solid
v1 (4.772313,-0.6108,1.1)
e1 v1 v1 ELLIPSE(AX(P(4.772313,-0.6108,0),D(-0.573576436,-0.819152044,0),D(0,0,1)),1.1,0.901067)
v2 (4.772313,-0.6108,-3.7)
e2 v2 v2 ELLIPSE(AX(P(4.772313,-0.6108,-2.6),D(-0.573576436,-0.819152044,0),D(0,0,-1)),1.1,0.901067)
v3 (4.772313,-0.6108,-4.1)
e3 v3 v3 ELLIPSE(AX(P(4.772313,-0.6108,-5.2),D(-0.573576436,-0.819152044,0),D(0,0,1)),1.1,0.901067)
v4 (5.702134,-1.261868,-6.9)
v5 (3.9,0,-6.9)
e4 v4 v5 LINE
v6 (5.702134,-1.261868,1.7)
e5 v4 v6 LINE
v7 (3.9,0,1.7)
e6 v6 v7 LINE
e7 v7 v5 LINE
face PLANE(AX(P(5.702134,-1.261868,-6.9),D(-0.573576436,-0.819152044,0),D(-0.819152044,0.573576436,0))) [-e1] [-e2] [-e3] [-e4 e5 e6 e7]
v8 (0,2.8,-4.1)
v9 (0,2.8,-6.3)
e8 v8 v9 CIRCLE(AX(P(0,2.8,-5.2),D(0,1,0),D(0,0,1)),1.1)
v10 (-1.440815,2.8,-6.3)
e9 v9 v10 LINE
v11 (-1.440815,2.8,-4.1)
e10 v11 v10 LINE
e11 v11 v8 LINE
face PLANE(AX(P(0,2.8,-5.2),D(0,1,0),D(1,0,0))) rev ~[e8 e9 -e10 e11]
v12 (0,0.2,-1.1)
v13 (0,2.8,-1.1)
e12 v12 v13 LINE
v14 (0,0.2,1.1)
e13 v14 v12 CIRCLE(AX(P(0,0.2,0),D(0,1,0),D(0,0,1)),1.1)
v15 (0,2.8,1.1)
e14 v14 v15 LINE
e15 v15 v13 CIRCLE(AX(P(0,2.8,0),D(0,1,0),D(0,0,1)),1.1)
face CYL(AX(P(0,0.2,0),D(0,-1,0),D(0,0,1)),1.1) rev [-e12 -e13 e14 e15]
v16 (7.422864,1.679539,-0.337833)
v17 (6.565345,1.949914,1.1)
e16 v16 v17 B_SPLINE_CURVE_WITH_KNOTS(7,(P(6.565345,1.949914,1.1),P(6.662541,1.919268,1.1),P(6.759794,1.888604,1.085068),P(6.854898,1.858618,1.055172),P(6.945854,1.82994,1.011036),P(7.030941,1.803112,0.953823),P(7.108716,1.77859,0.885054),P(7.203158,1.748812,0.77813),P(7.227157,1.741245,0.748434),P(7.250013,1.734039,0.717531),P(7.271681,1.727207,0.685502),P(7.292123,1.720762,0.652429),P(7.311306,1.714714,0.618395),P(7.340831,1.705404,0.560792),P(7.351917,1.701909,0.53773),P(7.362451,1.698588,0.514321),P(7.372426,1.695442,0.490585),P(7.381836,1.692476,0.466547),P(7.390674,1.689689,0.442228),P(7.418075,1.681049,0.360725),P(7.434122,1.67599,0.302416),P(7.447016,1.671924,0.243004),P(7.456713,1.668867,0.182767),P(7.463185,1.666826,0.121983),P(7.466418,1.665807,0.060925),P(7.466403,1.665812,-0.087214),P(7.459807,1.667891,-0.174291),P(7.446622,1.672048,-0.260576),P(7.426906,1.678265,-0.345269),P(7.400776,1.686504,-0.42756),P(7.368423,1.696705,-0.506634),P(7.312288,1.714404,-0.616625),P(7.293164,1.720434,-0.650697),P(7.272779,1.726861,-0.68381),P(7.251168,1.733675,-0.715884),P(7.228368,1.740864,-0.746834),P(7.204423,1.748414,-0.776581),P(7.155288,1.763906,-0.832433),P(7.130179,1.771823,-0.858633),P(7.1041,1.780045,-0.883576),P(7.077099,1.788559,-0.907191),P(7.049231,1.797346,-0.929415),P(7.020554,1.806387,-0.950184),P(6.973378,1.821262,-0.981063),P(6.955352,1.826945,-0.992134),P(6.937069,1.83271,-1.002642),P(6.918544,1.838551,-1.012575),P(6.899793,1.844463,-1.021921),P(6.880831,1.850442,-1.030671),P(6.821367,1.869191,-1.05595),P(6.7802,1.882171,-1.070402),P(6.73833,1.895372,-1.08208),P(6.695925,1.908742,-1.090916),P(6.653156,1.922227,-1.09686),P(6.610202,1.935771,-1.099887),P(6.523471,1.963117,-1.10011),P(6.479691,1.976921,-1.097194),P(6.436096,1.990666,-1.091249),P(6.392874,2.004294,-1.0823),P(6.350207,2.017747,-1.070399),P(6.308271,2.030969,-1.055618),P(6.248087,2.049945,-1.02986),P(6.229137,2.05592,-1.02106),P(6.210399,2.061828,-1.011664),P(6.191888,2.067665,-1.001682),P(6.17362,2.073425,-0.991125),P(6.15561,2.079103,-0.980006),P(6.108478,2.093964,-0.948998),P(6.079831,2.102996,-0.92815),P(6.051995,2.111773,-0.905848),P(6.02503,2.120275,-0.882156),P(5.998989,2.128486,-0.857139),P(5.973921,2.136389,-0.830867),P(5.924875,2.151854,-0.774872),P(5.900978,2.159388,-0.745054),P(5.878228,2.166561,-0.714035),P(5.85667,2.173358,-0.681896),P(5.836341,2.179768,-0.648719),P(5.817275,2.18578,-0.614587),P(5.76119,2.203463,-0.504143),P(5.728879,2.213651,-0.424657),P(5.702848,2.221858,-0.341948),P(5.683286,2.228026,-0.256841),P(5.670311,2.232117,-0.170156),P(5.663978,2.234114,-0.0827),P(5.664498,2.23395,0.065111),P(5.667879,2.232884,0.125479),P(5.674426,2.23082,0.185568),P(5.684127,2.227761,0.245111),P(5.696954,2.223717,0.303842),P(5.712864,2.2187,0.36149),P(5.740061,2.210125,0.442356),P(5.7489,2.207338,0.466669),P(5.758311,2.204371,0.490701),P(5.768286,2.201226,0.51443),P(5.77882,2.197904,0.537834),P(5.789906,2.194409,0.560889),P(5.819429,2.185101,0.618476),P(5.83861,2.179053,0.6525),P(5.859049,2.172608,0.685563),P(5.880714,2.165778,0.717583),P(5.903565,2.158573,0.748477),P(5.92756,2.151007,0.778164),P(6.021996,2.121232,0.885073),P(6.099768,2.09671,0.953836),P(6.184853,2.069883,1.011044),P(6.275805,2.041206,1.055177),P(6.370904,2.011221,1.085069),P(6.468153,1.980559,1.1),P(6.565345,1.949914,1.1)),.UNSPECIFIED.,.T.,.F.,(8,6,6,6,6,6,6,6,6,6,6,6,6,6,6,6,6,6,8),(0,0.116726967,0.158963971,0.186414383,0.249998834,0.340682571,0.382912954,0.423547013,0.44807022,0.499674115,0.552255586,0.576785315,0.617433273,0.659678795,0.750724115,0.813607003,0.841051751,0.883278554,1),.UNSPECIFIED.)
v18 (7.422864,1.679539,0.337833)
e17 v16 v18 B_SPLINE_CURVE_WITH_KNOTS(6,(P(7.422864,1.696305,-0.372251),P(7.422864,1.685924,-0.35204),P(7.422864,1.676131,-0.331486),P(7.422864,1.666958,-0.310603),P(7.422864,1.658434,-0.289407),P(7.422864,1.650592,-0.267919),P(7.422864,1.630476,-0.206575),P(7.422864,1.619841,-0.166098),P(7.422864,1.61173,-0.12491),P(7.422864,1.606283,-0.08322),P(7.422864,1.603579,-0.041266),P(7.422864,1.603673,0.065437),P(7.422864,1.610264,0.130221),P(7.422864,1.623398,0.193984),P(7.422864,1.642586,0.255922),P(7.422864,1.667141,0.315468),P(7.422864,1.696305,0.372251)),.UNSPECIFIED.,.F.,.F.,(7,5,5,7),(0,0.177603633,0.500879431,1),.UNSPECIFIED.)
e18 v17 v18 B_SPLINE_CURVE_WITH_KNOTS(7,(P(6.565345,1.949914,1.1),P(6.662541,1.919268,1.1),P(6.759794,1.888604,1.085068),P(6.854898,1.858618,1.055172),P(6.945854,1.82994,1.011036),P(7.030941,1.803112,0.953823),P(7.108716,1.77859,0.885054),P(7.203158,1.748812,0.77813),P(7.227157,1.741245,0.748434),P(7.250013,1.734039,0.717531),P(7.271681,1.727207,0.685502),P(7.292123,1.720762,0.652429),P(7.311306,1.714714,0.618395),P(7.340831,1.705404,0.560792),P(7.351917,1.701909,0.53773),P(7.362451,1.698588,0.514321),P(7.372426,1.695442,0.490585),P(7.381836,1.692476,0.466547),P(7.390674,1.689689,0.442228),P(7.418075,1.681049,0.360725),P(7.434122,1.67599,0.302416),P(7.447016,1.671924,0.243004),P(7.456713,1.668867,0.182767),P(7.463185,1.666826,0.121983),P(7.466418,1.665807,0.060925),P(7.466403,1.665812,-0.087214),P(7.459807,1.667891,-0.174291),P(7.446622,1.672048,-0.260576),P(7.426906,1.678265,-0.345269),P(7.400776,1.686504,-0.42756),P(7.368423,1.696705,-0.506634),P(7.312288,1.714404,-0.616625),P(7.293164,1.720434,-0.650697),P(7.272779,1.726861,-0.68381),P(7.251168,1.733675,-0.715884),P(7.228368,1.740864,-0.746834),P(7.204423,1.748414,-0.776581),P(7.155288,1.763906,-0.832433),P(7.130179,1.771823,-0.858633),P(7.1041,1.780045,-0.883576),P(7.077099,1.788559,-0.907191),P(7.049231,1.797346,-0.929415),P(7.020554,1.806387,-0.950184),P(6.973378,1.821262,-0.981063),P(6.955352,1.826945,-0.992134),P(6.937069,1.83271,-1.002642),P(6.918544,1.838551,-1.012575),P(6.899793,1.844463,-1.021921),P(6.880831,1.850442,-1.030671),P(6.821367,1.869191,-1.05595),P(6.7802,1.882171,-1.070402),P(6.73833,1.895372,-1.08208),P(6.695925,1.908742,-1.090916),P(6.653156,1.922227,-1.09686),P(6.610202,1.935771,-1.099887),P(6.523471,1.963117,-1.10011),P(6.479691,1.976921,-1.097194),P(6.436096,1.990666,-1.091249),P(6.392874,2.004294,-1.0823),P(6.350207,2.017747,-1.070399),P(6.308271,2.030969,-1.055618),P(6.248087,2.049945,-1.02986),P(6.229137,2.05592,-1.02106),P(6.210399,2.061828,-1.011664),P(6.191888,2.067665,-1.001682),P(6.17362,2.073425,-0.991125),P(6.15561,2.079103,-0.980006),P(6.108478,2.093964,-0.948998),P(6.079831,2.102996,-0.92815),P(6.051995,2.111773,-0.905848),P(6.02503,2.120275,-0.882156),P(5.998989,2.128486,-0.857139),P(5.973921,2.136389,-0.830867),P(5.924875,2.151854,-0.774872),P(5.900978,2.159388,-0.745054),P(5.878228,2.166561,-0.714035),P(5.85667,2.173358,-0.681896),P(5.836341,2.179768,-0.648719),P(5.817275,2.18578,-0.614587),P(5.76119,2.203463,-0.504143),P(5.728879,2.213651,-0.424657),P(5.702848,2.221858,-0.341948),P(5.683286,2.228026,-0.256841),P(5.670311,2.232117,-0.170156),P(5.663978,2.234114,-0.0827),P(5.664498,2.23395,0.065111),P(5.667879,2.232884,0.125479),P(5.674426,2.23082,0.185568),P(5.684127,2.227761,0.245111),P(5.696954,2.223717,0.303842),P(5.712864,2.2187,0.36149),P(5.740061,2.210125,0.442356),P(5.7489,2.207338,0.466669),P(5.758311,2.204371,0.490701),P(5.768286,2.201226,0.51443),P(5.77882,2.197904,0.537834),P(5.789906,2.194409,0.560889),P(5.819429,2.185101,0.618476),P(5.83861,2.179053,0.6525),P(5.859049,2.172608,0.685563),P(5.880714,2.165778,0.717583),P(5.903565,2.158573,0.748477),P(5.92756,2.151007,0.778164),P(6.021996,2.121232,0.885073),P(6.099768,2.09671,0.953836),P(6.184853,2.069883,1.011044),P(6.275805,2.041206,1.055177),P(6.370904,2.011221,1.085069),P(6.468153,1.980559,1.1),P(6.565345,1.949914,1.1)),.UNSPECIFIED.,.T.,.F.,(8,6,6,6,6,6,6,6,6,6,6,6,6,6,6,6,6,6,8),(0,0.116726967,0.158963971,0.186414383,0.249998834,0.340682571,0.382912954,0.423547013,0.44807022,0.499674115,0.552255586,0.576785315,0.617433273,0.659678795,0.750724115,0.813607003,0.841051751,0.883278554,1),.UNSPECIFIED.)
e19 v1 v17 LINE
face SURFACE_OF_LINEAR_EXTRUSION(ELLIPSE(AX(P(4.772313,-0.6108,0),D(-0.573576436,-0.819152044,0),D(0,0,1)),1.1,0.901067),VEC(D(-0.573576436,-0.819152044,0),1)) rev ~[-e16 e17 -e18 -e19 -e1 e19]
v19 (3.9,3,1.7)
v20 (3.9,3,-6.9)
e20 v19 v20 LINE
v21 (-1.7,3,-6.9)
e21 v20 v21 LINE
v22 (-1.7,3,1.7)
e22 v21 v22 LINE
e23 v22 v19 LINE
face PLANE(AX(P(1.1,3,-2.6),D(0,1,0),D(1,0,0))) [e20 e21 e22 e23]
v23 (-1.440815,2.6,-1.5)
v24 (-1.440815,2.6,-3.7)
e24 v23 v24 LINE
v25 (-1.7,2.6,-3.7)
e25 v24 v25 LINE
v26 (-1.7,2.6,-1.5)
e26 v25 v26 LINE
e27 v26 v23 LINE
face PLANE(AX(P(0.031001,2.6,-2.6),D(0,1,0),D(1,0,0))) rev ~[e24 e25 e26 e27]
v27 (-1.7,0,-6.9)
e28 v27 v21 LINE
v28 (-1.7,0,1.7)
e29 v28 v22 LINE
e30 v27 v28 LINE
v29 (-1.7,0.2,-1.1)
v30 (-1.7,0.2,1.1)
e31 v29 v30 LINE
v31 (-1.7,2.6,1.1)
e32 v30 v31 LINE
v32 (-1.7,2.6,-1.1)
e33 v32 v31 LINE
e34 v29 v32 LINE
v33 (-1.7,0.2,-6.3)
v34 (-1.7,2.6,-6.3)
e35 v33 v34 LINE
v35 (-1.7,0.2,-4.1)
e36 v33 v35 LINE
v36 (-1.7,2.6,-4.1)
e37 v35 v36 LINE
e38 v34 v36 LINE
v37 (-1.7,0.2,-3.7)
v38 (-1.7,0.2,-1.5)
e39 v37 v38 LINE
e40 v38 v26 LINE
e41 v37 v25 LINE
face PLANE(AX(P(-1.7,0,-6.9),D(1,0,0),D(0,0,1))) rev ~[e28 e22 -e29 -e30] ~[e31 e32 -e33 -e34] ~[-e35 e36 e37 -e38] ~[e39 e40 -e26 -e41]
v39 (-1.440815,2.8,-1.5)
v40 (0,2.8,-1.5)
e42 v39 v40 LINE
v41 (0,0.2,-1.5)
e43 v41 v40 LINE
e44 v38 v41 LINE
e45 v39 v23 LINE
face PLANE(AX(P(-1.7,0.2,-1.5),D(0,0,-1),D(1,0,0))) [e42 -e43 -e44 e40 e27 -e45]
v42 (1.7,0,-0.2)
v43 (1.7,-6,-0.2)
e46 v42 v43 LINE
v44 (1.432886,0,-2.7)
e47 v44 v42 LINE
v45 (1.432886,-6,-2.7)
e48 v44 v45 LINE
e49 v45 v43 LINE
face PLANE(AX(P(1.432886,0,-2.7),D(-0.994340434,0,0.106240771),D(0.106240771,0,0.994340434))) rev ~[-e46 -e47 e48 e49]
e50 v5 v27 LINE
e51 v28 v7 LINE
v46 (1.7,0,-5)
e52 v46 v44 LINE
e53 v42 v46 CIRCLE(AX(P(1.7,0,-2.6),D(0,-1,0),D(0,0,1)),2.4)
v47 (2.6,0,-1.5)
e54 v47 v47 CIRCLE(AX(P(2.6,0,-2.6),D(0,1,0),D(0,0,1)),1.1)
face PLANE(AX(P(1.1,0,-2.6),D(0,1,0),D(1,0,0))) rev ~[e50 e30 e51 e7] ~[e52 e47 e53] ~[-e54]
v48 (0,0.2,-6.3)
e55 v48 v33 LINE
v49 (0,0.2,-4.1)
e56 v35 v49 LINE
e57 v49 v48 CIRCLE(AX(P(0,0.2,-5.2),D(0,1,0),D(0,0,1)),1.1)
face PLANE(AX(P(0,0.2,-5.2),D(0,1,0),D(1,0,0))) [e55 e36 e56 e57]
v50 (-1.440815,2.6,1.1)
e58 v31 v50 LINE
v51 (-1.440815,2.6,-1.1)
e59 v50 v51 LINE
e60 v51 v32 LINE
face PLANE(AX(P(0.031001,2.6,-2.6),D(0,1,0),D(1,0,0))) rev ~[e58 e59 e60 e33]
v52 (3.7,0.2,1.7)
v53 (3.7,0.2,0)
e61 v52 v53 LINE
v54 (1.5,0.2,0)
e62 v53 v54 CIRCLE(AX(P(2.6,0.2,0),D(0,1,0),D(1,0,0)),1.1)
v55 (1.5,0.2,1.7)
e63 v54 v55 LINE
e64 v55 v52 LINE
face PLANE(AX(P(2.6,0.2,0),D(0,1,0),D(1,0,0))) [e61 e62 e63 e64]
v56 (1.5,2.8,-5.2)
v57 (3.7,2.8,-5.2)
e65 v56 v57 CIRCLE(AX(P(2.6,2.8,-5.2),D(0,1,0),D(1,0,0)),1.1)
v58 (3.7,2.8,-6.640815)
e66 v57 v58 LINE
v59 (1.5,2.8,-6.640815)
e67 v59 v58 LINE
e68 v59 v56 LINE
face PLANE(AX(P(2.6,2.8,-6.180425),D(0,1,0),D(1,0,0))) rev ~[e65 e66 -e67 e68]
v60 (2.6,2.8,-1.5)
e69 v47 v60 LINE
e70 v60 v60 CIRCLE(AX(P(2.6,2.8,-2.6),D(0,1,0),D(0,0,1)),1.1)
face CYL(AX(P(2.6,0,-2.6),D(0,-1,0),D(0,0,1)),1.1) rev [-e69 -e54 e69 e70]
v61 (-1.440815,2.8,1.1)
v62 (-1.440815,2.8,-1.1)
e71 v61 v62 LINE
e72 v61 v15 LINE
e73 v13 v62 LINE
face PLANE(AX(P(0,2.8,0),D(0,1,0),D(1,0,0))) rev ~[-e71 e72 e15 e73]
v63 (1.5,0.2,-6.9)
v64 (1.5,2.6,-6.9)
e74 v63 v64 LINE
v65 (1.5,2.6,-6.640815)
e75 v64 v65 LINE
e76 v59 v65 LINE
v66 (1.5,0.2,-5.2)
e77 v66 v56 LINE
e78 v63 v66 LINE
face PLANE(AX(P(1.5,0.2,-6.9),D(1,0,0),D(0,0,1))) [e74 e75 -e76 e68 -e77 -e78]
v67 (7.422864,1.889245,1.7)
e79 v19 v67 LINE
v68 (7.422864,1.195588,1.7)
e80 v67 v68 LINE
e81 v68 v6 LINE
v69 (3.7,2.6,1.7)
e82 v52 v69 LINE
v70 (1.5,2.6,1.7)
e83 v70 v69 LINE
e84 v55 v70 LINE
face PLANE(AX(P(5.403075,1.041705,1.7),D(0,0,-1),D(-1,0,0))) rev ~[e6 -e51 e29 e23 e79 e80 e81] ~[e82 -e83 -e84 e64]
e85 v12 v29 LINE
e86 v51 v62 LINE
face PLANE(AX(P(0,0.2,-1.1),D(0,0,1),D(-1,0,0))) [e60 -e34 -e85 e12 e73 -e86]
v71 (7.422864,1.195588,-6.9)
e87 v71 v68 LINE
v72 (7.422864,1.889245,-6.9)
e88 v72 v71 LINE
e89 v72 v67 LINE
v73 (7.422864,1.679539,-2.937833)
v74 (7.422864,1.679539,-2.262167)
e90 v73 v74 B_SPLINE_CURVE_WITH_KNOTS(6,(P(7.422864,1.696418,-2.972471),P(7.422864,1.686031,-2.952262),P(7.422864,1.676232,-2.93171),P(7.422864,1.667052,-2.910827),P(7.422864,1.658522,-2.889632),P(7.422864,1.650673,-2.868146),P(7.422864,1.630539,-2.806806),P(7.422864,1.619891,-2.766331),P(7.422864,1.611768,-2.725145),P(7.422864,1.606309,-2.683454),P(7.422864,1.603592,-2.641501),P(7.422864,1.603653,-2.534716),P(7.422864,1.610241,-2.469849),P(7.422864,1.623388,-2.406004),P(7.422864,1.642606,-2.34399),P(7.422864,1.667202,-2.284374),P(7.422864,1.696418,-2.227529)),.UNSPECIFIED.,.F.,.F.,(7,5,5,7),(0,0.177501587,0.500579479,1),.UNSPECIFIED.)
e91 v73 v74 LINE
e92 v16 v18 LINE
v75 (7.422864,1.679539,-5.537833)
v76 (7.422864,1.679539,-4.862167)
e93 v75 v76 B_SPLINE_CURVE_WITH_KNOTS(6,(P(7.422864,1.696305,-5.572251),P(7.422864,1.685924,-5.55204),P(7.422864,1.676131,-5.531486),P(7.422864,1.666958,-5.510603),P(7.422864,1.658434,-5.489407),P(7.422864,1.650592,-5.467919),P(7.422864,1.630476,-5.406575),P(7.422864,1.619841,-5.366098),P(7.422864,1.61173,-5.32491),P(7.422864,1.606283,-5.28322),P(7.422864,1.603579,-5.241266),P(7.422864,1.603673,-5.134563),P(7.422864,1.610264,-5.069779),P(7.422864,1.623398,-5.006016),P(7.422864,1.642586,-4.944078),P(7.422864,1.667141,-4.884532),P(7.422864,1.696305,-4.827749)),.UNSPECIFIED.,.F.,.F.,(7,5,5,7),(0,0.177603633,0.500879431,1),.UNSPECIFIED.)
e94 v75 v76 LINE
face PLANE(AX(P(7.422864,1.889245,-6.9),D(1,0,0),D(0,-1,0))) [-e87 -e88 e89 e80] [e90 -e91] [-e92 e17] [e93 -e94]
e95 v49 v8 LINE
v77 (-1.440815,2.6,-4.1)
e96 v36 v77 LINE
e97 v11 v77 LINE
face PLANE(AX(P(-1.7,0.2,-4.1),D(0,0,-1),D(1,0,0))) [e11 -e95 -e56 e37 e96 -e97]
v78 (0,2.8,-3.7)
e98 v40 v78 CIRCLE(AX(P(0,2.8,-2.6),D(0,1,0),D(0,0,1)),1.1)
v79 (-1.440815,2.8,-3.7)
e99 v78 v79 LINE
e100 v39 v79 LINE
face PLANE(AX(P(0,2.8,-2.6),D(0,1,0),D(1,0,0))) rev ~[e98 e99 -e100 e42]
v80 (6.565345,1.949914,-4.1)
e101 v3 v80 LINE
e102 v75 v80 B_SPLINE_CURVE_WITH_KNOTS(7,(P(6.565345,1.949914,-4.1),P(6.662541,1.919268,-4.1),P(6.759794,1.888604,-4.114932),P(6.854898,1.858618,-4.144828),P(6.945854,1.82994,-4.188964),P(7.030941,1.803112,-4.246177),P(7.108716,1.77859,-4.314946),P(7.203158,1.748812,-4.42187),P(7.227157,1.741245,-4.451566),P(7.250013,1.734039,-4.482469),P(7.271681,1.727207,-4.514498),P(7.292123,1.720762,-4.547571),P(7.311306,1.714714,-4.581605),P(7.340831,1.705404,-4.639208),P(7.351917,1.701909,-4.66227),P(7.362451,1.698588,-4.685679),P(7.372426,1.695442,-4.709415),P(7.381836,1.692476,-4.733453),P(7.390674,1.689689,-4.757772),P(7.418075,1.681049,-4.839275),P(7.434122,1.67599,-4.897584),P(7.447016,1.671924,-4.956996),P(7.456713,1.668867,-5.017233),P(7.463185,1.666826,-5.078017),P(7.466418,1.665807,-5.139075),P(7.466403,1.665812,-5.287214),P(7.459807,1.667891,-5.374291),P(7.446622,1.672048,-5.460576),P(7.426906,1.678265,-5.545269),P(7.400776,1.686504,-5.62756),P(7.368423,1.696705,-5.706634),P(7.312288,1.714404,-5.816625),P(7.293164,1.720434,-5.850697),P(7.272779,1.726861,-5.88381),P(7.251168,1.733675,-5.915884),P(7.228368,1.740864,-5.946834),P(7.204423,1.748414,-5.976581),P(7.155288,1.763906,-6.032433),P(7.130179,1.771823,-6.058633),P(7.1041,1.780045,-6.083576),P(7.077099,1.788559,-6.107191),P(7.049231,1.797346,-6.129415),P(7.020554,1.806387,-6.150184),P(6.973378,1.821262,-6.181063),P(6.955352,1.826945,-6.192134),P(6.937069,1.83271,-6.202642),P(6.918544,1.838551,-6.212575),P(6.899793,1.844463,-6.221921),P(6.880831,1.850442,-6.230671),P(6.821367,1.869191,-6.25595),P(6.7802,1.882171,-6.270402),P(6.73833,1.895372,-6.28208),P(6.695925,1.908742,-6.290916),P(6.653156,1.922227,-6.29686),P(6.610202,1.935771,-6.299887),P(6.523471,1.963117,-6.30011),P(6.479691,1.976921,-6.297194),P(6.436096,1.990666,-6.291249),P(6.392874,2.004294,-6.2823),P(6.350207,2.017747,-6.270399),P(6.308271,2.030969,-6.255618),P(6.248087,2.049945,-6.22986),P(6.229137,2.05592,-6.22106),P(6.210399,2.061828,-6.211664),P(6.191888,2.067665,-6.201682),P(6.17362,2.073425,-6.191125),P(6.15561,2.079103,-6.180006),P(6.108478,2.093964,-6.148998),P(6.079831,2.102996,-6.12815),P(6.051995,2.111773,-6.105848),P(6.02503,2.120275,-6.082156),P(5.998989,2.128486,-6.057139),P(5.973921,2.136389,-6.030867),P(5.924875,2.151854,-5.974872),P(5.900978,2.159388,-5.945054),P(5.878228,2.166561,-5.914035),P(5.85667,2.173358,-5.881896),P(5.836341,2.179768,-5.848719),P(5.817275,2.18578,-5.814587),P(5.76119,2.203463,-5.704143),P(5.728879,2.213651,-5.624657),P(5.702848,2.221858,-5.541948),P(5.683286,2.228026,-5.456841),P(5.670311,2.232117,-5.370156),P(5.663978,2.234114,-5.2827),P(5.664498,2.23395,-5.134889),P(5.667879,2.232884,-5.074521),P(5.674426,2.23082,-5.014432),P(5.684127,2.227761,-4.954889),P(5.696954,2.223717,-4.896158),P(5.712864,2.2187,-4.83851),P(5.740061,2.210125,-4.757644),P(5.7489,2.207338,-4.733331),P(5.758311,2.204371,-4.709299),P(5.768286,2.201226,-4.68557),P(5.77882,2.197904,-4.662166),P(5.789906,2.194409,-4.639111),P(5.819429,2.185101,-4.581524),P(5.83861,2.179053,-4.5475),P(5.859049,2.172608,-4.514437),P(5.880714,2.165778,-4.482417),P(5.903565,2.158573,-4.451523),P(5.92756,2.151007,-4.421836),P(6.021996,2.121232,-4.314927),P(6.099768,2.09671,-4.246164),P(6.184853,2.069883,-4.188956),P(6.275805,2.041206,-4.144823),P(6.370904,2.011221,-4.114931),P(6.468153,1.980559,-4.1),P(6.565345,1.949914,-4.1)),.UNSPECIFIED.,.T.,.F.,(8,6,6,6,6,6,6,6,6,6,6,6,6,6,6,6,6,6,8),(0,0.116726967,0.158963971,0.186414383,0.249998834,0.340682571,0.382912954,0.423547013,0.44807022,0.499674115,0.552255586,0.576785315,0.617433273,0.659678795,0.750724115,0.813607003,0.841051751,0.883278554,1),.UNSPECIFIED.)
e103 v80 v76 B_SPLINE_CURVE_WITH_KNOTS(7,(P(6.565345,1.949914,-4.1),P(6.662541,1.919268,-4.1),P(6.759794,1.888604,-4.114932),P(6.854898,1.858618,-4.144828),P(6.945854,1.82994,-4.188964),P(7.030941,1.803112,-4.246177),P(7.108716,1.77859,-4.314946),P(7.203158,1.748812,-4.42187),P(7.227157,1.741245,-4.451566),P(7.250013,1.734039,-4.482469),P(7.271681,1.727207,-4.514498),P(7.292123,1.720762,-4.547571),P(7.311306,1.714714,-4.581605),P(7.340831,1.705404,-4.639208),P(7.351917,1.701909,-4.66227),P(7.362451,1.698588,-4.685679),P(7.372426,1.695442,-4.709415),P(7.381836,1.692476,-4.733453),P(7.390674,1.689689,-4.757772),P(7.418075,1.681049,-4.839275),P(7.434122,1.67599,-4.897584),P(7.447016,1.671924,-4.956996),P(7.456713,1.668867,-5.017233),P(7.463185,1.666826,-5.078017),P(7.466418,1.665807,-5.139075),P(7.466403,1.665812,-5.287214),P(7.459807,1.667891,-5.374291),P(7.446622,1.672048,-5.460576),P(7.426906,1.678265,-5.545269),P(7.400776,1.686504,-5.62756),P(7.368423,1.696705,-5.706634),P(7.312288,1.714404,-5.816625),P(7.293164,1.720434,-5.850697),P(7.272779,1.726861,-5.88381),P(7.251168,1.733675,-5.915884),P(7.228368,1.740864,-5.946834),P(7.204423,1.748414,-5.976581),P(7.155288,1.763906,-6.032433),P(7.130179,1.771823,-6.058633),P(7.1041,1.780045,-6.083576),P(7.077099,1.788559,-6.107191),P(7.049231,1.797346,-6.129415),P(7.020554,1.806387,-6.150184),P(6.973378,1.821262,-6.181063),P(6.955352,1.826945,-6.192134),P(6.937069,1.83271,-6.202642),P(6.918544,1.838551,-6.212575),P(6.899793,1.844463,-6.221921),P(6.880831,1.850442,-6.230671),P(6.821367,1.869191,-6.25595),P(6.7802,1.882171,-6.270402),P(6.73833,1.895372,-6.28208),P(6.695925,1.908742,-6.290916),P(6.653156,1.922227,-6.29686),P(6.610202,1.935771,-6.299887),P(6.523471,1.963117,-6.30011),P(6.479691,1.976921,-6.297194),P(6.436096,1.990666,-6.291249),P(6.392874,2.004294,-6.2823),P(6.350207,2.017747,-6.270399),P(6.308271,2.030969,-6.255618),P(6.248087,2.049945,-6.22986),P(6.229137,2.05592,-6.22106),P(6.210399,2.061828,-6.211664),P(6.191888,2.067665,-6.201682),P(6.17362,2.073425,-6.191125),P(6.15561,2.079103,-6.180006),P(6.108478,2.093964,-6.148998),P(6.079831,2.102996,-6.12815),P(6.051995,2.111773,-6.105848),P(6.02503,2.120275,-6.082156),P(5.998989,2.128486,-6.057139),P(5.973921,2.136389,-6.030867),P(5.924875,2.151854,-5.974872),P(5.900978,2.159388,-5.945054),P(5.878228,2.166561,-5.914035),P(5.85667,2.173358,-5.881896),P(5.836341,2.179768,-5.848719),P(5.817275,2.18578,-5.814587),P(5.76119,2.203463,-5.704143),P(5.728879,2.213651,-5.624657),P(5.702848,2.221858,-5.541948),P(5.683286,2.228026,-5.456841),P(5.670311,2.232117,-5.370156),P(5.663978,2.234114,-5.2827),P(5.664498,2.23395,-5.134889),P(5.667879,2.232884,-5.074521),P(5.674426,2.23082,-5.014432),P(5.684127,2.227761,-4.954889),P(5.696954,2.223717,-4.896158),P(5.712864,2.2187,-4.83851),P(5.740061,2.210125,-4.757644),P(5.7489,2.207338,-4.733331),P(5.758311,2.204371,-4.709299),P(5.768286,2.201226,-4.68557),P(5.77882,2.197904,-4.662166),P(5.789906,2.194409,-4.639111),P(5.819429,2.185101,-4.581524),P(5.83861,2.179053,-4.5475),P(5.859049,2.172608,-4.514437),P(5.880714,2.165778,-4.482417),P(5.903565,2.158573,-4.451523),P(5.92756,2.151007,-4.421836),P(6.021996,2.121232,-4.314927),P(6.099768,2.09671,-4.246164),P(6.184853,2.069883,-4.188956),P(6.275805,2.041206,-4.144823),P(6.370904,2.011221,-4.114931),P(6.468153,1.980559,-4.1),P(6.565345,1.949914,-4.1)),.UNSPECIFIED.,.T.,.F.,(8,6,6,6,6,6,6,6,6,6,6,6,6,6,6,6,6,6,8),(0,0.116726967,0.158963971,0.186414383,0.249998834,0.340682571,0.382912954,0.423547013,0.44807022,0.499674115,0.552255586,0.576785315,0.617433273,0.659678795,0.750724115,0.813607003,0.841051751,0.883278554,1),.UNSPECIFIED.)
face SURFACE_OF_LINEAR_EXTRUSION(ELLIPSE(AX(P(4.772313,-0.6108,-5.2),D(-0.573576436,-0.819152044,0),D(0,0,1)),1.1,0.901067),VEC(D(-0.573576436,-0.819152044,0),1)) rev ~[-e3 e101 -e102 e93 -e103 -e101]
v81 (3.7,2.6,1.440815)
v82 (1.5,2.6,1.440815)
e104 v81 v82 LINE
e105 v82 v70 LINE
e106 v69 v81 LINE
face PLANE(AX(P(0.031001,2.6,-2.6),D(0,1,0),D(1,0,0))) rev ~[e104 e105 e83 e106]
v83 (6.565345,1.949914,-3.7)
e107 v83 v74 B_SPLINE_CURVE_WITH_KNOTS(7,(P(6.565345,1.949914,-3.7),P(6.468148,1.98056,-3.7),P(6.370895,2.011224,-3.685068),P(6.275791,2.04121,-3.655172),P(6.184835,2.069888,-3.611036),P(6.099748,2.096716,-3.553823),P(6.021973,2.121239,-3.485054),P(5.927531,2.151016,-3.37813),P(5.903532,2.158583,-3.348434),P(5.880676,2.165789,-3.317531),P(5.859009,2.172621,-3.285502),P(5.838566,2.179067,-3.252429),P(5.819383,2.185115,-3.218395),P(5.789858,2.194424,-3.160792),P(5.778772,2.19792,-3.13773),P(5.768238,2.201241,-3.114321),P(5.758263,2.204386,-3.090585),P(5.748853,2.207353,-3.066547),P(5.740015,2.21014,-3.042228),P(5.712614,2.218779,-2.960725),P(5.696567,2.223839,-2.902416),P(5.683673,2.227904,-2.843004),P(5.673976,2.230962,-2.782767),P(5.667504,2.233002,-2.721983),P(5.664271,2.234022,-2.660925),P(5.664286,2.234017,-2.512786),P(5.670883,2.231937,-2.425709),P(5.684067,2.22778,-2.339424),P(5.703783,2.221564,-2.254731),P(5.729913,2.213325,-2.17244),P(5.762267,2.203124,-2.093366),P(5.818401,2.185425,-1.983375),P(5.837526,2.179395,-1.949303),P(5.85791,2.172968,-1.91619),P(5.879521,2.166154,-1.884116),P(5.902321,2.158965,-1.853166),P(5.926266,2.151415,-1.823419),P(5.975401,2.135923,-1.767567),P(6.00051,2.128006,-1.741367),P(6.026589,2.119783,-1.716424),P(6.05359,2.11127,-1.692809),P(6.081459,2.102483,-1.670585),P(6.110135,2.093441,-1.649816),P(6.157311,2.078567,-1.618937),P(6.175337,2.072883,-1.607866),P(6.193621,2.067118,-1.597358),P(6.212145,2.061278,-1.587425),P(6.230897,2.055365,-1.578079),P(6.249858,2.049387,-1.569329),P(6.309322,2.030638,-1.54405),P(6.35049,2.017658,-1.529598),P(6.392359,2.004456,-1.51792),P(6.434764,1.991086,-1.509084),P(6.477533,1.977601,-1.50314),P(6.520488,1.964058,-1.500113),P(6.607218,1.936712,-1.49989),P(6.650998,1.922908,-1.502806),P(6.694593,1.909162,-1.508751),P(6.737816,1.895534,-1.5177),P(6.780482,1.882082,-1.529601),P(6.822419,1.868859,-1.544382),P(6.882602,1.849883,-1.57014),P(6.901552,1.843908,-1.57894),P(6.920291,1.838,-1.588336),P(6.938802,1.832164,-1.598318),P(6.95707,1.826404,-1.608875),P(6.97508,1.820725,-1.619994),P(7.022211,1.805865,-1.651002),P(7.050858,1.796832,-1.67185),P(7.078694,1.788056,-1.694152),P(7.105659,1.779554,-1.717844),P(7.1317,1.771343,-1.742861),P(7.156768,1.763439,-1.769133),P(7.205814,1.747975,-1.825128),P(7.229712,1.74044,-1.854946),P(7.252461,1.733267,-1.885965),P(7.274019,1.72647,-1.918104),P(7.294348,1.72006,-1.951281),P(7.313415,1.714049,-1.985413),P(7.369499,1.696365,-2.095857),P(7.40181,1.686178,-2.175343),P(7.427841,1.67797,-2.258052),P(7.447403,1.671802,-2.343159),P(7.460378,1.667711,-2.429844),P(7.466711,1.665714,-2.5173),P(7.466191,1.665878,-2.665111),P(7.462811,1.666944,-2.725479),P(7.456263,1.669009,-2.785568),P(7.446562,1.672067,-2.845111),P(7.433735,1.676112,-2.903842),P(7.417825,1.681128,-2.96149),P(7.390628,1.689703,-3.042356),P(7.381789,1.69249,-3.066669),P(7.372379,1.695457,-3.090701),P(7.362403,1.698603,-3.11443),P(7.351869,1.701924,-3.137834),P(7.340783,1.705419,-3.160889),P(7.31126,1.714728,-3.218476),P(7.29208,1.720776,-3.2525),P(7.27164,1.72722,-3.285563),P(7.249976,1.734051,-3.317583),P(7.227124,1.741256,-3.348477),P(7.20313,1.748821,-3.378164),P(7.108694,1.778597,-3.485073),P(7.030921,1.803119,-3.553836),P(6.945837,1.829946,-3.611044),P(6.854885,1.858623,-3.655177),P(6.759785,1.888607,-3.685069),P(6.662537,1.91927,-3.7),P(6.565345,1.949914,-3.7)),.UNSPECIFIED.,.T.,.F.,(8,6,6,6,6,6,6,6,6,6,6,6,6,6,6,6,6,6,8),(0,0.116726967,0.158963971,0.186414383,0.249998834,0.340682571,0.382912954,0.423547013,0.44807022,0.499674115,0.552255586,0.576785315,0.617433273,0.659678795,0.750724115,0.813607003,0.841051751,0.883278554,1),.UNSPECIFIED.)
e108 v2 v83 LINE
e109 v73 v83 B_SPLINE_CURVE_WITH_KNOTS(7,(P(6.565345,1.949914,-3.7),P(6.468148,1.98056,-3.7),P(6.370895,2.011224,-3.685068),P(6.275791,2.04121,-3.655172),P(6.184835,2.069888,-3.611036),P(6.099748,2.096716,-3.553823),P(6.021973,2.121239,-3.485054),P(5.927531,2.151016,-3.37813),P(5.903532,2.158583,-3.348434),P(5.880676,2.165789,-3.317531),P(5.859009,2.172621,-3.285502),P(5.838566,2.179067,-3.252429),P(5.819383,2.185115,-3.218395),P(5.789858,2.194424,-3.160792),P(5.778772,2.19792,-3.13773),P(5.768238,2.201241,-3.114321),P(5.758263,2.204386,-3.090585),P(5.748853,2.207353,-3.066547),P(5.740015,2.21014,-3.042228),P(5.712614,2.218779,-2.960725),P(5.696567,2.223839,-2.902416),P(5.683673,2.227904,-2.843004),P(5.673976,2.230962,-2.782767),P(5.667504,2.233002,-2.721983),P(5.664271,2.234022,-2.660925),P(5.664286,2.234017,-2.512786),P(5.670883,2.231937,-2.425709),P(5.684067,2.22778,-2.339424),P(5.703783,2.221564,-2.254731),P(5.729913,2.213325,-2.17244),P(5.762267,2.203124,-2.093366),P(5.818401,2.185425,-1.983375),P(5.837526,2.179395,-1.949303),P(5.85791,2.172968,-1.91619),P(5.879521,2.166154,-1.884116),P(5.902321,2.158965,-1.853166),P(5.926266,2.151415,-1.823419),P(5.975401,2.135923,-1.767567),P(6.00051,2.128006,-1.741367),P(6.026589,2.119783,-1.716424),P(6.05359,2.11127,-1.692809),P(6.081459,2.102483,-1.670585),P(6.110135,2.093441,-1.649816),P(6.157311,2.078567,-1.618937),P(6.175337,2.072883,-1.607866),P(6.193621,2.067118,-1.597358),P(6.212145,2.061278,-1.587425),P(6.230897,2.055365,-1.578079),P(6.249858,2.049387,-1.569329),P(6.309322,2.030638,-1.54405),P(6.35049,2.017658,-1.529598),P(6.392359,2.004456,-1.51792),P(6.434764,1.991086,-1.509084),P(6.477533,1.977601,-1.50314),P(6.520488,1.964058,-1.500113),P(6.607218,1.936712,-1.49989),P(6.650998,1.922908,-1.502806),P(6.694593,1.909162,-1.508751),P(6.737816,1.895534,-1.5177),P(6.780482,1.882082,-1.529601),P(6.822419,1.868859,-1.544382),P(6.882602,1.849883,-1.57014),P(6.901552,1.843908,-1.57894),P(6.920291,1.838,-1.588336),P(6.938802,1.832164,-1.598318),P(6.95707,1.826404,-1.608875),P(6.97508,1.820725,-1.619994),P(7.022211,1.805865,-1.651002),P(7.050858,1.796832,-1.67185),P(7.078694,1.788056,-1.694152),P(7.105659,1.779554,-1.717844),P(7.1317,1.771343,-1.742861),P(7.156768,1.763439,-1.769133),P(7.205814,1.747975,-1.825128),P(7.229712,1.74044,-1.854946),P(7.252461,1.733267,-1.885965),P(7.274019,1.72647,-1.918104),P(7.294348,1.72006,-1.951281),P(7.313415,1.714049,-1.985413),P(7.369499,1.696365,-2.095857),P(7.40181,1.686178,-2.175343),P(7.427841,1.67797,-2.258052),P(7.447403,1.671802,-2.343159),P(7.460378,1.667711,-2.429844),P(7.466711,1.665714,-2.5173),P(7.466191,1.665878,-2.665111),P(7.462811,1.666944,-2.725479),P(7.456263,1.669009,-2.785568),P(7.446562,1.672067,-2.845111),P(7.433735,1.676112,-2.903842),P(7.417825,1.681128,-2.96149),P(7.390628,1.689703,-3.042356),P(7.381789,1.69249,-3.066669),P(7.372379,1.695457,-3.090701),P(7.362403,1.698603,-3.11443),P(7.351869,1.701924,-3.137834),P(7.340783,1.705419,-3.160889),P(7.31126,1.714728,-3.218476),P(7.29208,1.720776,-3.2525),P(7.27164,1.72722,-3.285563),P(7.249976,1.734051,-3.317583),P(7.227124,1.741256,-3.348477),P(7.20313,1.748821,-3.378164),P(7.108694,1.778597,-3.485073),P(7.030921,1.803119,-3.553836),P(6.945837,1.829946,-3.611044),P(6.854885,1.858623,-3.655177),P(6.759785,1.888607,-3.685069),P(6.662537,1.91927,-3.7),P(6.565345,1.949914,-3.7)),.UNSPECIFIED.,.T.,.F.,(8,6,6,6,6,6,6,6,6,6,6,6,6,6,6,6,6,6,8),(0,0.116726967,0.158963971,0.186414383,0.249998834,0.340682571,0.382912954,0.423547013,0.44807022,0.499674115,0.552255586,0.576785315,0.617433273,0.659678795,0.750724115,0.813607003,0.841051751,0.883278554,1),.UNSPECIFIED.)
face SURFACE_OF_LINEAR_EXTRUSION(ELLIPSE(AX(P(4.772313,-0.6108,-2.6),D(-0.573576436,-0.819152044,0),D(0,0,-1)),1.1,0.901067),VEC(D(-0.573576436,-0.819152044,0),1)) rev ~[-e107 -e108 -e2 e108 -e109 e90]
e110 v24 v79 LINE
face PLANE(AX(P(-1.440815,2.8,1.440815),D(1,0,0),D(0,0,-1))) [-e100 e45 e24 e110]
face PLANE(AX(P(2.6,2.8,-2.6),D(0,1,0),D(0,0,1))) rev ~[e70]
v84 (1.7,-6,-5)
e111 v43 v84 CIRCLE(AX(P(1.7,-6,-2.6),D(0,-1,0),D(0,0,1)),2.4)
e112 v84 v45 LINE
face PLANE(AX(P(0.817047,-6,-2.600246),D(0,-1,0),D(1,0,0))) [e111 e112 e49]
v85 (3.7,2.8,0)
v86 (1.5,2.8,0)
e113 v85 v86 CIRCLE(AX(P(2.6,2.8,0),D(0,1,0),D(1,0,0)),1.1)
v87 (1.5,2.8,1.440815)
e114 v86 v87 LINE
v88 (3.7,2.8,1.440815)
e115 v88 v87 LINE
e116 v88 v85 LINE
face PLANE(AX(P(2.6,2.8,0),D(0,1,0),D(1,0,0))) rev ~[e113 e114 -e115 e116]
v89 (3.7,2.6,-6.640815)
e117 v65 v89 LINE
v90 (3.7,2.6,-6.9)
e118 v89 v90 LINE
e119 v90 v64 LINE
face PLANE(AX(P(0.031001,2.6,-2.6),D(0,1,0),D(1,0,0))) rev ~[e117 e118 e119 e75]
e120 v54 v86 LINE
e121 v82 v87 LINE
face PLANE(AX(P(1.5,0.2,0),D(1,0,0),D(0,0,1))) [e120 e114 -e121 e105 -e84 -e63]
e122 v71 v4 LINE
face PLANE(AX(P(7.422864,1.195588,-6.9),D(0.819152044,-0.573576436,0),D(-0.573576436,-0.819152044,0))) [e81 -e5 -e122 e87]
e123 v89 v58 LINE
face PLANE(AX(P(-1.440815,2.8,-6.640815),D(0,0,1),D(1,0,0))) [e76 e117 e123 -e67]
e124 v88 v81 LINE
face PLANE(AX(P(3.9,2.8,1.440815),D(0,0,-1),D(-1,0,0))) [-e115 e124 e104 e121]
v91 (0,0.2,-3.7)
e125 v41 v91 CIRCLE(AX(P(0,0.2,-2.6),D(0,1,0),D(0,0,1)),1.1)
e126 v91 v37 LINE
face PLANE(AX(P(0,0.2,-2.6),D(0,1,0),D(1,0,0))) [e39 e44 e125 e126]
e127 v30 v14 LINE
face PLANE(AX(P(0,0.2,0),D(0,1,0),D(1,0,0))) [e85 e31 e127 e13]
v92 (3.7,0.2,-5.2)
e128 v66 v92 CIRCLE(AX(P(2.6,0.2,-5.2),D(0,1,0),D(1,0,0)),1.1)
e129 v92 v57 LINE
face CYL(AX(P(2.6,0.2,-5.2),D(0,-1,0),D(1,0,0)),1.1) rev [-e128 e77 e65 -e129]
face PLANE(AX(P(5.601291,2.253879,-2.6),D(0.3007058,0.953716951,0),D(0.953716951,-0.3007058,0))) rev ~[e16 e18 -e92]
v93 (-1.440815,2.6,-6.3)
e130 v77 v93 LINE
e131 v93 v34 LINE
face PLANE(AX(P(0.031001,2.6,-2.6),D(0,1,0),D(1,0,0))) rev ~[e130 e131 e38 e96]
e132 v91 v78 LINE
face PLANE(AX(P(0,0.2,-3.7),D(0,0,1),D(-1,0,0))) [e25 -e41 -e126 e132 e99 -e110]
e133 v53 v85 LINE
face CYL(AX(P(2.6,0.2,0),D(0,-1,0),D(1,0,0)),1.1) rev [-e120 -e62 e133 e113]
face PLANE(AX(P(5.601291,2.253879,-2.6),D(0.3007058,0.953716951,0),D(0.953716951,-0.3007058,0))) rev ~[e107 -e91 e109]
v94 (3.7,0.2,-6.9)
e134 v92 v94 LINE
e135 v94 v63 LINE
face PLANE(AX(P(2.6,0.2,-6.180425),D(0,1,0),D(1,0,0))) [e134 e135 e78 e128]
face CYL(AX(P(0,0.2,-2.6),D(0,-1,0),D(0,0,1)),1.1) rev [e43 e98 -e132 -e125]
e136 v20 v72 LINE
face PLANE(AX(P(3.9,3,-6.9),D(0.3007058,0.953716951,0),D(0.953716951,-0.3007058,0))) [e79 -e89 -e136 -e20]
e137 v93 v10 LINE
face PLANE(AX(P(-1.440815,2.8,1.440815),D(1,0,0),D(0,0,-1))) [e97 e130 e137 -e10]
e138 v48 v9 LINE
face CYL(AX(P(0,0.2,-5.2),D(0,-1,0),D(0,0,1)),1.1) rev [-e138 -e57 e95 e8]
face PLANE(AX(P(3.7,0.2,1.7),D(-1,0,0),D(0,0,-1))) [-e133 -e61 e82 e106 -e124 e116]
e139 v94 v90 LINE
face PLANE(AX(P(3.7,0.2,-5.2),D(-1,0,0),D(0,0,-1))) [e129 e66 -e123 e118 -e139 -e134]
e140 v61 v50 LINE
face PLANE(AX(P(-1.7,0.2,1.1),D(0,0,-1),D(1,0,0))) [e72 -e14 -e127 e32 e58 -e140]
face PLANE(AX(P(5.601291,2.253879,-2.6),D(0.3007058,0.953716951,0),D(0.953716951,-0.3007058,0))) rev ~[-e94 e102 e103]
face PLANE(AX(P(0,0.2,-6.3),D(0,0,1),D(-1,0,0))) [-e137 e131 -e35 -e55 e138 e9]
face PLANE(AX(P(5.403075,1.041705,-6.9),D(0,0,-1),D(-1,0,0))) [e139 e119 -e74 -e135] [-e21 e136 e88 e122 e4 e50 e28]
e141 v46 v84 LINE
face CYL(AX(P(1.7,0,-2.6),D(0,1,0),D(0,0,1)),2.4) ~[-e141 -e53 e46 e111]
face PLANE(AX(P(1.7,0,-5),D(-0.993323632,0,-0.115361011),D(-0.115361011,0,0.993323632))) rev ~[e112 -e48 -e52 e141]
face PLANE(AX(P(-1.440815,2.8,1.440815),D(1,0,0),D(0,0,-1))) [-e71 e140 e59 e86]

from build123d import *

# Parameters (mm, degrees)
HOUSING_DEPTH                  = 3
KINK_HOUSING_DEPTH             = 8.6
KINK_SLOTS_REACH               = 11.941
KINK_SLOTS_OFFSET_FROM_SURFACE = 0.2
SKETCH18_RX                    = 1.1
SKETCH18_RY                    = 0.901067249
SIDE_START                     = 0.2
SKETCH1_14_R                   = 1.1
SIDE_CUTS_DEPTH                = 2.6
SKETCH1_15_R                   = 1.1
CENTER_CUT_DEPTH               = 2.8
BOSS_EXTRUDE4_START            = -0.2
BOSS_EXTRUDE4_DEPTH            = 0.2
BOSS_EXTRUDE5_DEPTH            = 6


with BuildPart() as part:
    # Sketch1 → Housing (new body)
    with BuildSketch(Plane(origin=(0, 0, 0), x_dir=(1, 0, 0), z_dir=(0, 1, 0))):
        Polygon((3.9, 6.9), (-1.7, 6.9), (-1.7, -1.7), (3.9, -1.7), (3.9, 5.2), align=None)
    extrude(amount=HOUSING_DEPTH)

    # Sketch1<14> → Side Cuts (cut)
    with BuildSketch(Plane(origin=(0, 0, 0), x_dir=(1, 0, 0), z_dir=(0, 1, 0)).offset(SIDE_START)):
        with BuildLine():
            Line((3.7, 5.2), (3.7, 6.9))
            Line((3.7, 6.9), (1.5, 6.9))
            Line((1.5, 6.9), (1.5, 5.2))
            ThreePointArc((1.5, 5.2), (2.6, 6.3), (3.7, 5.2))
        make_face()
        with Locations((2.6, 5.2)):
            Circle(SKETCH1_14_R)
        with Locations((0, 5.2)):
            Circle(SKETCH1_14_R)
        with BuildLine():
            Line((0, 6.3), (-1.7, 6.3))
            Line((-1.7, 6.3), (-1.7, 4.1))
            Line((-1.7, 4.1), (0, 4.1))
            ThreePointArc((0, 4.1), (-1.1, 5.2), (0, 6.3))
        make_face()
        with Locations((0, 2.6)):
            Circle(SKETCH1_14_R)
        with BuildLine():
            Line((0, 3.7), (-1.7, 3.7))
            Line((-1.7, 3.7), (-1.7, 1.5))
            Line((-1.7, 1.5), (0, 1.5))
            ThreePointArc((0, 1.5), (-1.1, 2.6), (0, 3.7))
        make_face()
        with Locations((2.6, 0)):
            Circle(SKETCH1_14_R)
        with BuildLine():
            Line((1.5, -1.7), (3.7, -1.7))
            Line((3.7, -1.7), (3.7, 0))
            ThreePointArc((3.7, 0), (2.6, -1.1), (1.5, 0))
            Line((1.5, 0), (1.5, -1.7))
        make_face()
        Circle(SKETCH1_14_R)
        with BuildLine():
            Line((-1.7, 1.1), (-1.7, -1.1))
            Line((-1.7, -1.1), (0, -1.1))
            ThreePointArc((0, -1.1), (-1.1, 0), (0, 1.1))
            Line((0, 1.1), (-1.7, 1.1))
        make_face()
    extrude(amount=SIDE_CUTS_DEPTH, mode=Mode.SUBTRACT)

    # Sketch1<15> → Center Cut (cut)
    with BuildSketch(Plane(origin=(0, 0, 0), x_dir=(1, 0, 0), z_dir=(0, 1, 0))):
        with Locations(Location((2.6, 2.6, 0), (0, 0, 270))):
            Circle(SKETCH1_15_R)
    extrude(amount=CENTER_CUT_DEPTH, mode=Mode.SUBTRACT)



with BuildPart() as body_2:
    # Tilted Magnet → Kink Housing (new body)
    with BuildSketch(Plane(origin=(0, 0, -6.9), x_dir=(-1, 0, 0), z_dir=(0, 0, -1))):
        Polygon((-3.9, 3), (-7.422863806, 1.889245308), (-7.422863806, 1.195587973), (-5.702134497, -1.26186816), (-3.9, 0), align=None)
    extrude(amount=-KINK_HOUSING_DEPTH)

    # Kink Slots: up to this face of the body (flat: up to its plane, moved by the offset)
    kink_slots_end = Plane(body_2.part.faces().sort_by_distance((5.661431903, 2.444622654, -2.6))[0]).offset(-KINK_SLOTS_OFFSET_FROM_SURFACE)
    # Sketch18 → Kink Slots (cut, up to the picked face)
    with BuildSketch(Plane(origin=(1.283060721, 1.832400611, 0), x_dir=(0.8191520442889985, -0.5735764363510366, 0), z_dir=(-0.5735764363510366, -0.8191520442889985, 0)), mode=Mode.PRIVATE) as kink_slots_sk1:
        with Locations(Location((4.25959063, -5.2), (0, 0, 90))):
            Ellipse(SKETCH18_RX, SKETCH18_RY)
    kink_slots_tool1 = split(extrude(kink_slots_sk1.sketch, amount=-KINK_SLOTS_REACH, mode=Mode.PRIVATE), bisect_by=kink_slots_end, keep=Keep.BOTH, mode=Mode.PRIVATE)
    # Sketch18 → Kink Slots (cut, up to the picked face)
    with BuildSketch(Plane(origin=(1.283060721, 1.832400611, 0), x_dir=(0.8191520442889985, -0.5735764363510366, 0), z_dir=(-0.5735764363510366, -0.8191520442889985, 0)), mode=Mode.PRIVATE) as kink_slots_sk2:
        with Locations(Location((4.25959063, -2.6), (0, 0, -90))):
            Ellipse(SKETCH18_RX, SKETCH18_RY)
    kink_slots_tool2 = split(extrude(kink_slots_sk2.sketch, amount=-KINK_SLOTS_REACH, mode=Mode.PRIVATE), bisect_by=kink_slots_end, keep=Keep.BOTH, mode=Mode.PRIVATE)
    # Sketch18 → Kink Slots (cut, up to the picked face)
    with BuildSketch(Plane(origin=(1.283060721, 1.832400611, 0), x_dir=(0.8191520442889985, -0.5735764363510366, 0), z_dir=(-0.5735764363510366, -0.8191520442889985, 0)), mode=Mode.PRIVATE) as kink_slots_sk3:
        with Locations(Location((4.25959063, 0), (0, 0, 90))):
            Ellipse(SKETCH18_RX, SKETCH18_RY)
    kink_slots_tool3 = split(extrude(kink_slots_sk3.sketch, amount=-KINK_SLOTS_REACH, mode=Mode.PRIVATE), bisect_by=kink_slots_end, keep=Keep.BOTH, mode=Mode.PRIVATE)
    add(kink_slots_tool1.solids().sort_by(Axis((4.772313, -0.6108, -5.2), (0.5735764363510366, 0.8191520442889985, 0)))[0], mode=Mode.SUBTRACT)
    add(kink_slots_tool2.solids().sort_by(Axis((4.772313, -0.6108, -2.6), (0.5735764363510366, 0.8191520442889985, 0)))[0], mode=Mode.SUBTRACT)
    add(kink_slots_tool3.solids().sort_by(Axis((4.772313, -0.6108, 0), (0.5735764363510366, 0.8191520442889985, 0)))[0], mode=Mode.SUBTRACT)


with BuildPart() as part_1:
    add(part.part)

    add(body_2.part)  # Boss-Extrude4 merges body 2
    # Sketch19 → Boss-Extrude4 (add)
    with BuildSketch(Plane(origin=(0, 3, 0), x_dir=(1, 0, 0), z_dir=(0, 1, 0)).offset(BOSS_EXTRUDE4_START)):
        Polygon((3.9, 6.9), (-1.7, 6.9), (-1.7, -1.7), (3.9, -1.7), (3.9, -1.440815164), (-1.440815164, -1.440815164), (-1.440815164, 6.640815164), (3.9, 6.640815164), align=None)
    extrude(amount=-BOSS_EXTRUDE4_DEPTH)

    # Sketch20 → Boss-Extrude5 (add)
    with BuildSketch(Plane.XZ):
        with BuildLine():
            Line((1.432886326, -2.7), (1.7, -0.2))
            ThreePointArc((1.7, -0.2), (-0.7, -2.6), (1.7, -5))
            Line((1.7, -5), (1.432886326, -2.7))
        make_face()
    extrude(amount=BOSS_EXTRUDE5_DEPTH)


solid = part_1.part
